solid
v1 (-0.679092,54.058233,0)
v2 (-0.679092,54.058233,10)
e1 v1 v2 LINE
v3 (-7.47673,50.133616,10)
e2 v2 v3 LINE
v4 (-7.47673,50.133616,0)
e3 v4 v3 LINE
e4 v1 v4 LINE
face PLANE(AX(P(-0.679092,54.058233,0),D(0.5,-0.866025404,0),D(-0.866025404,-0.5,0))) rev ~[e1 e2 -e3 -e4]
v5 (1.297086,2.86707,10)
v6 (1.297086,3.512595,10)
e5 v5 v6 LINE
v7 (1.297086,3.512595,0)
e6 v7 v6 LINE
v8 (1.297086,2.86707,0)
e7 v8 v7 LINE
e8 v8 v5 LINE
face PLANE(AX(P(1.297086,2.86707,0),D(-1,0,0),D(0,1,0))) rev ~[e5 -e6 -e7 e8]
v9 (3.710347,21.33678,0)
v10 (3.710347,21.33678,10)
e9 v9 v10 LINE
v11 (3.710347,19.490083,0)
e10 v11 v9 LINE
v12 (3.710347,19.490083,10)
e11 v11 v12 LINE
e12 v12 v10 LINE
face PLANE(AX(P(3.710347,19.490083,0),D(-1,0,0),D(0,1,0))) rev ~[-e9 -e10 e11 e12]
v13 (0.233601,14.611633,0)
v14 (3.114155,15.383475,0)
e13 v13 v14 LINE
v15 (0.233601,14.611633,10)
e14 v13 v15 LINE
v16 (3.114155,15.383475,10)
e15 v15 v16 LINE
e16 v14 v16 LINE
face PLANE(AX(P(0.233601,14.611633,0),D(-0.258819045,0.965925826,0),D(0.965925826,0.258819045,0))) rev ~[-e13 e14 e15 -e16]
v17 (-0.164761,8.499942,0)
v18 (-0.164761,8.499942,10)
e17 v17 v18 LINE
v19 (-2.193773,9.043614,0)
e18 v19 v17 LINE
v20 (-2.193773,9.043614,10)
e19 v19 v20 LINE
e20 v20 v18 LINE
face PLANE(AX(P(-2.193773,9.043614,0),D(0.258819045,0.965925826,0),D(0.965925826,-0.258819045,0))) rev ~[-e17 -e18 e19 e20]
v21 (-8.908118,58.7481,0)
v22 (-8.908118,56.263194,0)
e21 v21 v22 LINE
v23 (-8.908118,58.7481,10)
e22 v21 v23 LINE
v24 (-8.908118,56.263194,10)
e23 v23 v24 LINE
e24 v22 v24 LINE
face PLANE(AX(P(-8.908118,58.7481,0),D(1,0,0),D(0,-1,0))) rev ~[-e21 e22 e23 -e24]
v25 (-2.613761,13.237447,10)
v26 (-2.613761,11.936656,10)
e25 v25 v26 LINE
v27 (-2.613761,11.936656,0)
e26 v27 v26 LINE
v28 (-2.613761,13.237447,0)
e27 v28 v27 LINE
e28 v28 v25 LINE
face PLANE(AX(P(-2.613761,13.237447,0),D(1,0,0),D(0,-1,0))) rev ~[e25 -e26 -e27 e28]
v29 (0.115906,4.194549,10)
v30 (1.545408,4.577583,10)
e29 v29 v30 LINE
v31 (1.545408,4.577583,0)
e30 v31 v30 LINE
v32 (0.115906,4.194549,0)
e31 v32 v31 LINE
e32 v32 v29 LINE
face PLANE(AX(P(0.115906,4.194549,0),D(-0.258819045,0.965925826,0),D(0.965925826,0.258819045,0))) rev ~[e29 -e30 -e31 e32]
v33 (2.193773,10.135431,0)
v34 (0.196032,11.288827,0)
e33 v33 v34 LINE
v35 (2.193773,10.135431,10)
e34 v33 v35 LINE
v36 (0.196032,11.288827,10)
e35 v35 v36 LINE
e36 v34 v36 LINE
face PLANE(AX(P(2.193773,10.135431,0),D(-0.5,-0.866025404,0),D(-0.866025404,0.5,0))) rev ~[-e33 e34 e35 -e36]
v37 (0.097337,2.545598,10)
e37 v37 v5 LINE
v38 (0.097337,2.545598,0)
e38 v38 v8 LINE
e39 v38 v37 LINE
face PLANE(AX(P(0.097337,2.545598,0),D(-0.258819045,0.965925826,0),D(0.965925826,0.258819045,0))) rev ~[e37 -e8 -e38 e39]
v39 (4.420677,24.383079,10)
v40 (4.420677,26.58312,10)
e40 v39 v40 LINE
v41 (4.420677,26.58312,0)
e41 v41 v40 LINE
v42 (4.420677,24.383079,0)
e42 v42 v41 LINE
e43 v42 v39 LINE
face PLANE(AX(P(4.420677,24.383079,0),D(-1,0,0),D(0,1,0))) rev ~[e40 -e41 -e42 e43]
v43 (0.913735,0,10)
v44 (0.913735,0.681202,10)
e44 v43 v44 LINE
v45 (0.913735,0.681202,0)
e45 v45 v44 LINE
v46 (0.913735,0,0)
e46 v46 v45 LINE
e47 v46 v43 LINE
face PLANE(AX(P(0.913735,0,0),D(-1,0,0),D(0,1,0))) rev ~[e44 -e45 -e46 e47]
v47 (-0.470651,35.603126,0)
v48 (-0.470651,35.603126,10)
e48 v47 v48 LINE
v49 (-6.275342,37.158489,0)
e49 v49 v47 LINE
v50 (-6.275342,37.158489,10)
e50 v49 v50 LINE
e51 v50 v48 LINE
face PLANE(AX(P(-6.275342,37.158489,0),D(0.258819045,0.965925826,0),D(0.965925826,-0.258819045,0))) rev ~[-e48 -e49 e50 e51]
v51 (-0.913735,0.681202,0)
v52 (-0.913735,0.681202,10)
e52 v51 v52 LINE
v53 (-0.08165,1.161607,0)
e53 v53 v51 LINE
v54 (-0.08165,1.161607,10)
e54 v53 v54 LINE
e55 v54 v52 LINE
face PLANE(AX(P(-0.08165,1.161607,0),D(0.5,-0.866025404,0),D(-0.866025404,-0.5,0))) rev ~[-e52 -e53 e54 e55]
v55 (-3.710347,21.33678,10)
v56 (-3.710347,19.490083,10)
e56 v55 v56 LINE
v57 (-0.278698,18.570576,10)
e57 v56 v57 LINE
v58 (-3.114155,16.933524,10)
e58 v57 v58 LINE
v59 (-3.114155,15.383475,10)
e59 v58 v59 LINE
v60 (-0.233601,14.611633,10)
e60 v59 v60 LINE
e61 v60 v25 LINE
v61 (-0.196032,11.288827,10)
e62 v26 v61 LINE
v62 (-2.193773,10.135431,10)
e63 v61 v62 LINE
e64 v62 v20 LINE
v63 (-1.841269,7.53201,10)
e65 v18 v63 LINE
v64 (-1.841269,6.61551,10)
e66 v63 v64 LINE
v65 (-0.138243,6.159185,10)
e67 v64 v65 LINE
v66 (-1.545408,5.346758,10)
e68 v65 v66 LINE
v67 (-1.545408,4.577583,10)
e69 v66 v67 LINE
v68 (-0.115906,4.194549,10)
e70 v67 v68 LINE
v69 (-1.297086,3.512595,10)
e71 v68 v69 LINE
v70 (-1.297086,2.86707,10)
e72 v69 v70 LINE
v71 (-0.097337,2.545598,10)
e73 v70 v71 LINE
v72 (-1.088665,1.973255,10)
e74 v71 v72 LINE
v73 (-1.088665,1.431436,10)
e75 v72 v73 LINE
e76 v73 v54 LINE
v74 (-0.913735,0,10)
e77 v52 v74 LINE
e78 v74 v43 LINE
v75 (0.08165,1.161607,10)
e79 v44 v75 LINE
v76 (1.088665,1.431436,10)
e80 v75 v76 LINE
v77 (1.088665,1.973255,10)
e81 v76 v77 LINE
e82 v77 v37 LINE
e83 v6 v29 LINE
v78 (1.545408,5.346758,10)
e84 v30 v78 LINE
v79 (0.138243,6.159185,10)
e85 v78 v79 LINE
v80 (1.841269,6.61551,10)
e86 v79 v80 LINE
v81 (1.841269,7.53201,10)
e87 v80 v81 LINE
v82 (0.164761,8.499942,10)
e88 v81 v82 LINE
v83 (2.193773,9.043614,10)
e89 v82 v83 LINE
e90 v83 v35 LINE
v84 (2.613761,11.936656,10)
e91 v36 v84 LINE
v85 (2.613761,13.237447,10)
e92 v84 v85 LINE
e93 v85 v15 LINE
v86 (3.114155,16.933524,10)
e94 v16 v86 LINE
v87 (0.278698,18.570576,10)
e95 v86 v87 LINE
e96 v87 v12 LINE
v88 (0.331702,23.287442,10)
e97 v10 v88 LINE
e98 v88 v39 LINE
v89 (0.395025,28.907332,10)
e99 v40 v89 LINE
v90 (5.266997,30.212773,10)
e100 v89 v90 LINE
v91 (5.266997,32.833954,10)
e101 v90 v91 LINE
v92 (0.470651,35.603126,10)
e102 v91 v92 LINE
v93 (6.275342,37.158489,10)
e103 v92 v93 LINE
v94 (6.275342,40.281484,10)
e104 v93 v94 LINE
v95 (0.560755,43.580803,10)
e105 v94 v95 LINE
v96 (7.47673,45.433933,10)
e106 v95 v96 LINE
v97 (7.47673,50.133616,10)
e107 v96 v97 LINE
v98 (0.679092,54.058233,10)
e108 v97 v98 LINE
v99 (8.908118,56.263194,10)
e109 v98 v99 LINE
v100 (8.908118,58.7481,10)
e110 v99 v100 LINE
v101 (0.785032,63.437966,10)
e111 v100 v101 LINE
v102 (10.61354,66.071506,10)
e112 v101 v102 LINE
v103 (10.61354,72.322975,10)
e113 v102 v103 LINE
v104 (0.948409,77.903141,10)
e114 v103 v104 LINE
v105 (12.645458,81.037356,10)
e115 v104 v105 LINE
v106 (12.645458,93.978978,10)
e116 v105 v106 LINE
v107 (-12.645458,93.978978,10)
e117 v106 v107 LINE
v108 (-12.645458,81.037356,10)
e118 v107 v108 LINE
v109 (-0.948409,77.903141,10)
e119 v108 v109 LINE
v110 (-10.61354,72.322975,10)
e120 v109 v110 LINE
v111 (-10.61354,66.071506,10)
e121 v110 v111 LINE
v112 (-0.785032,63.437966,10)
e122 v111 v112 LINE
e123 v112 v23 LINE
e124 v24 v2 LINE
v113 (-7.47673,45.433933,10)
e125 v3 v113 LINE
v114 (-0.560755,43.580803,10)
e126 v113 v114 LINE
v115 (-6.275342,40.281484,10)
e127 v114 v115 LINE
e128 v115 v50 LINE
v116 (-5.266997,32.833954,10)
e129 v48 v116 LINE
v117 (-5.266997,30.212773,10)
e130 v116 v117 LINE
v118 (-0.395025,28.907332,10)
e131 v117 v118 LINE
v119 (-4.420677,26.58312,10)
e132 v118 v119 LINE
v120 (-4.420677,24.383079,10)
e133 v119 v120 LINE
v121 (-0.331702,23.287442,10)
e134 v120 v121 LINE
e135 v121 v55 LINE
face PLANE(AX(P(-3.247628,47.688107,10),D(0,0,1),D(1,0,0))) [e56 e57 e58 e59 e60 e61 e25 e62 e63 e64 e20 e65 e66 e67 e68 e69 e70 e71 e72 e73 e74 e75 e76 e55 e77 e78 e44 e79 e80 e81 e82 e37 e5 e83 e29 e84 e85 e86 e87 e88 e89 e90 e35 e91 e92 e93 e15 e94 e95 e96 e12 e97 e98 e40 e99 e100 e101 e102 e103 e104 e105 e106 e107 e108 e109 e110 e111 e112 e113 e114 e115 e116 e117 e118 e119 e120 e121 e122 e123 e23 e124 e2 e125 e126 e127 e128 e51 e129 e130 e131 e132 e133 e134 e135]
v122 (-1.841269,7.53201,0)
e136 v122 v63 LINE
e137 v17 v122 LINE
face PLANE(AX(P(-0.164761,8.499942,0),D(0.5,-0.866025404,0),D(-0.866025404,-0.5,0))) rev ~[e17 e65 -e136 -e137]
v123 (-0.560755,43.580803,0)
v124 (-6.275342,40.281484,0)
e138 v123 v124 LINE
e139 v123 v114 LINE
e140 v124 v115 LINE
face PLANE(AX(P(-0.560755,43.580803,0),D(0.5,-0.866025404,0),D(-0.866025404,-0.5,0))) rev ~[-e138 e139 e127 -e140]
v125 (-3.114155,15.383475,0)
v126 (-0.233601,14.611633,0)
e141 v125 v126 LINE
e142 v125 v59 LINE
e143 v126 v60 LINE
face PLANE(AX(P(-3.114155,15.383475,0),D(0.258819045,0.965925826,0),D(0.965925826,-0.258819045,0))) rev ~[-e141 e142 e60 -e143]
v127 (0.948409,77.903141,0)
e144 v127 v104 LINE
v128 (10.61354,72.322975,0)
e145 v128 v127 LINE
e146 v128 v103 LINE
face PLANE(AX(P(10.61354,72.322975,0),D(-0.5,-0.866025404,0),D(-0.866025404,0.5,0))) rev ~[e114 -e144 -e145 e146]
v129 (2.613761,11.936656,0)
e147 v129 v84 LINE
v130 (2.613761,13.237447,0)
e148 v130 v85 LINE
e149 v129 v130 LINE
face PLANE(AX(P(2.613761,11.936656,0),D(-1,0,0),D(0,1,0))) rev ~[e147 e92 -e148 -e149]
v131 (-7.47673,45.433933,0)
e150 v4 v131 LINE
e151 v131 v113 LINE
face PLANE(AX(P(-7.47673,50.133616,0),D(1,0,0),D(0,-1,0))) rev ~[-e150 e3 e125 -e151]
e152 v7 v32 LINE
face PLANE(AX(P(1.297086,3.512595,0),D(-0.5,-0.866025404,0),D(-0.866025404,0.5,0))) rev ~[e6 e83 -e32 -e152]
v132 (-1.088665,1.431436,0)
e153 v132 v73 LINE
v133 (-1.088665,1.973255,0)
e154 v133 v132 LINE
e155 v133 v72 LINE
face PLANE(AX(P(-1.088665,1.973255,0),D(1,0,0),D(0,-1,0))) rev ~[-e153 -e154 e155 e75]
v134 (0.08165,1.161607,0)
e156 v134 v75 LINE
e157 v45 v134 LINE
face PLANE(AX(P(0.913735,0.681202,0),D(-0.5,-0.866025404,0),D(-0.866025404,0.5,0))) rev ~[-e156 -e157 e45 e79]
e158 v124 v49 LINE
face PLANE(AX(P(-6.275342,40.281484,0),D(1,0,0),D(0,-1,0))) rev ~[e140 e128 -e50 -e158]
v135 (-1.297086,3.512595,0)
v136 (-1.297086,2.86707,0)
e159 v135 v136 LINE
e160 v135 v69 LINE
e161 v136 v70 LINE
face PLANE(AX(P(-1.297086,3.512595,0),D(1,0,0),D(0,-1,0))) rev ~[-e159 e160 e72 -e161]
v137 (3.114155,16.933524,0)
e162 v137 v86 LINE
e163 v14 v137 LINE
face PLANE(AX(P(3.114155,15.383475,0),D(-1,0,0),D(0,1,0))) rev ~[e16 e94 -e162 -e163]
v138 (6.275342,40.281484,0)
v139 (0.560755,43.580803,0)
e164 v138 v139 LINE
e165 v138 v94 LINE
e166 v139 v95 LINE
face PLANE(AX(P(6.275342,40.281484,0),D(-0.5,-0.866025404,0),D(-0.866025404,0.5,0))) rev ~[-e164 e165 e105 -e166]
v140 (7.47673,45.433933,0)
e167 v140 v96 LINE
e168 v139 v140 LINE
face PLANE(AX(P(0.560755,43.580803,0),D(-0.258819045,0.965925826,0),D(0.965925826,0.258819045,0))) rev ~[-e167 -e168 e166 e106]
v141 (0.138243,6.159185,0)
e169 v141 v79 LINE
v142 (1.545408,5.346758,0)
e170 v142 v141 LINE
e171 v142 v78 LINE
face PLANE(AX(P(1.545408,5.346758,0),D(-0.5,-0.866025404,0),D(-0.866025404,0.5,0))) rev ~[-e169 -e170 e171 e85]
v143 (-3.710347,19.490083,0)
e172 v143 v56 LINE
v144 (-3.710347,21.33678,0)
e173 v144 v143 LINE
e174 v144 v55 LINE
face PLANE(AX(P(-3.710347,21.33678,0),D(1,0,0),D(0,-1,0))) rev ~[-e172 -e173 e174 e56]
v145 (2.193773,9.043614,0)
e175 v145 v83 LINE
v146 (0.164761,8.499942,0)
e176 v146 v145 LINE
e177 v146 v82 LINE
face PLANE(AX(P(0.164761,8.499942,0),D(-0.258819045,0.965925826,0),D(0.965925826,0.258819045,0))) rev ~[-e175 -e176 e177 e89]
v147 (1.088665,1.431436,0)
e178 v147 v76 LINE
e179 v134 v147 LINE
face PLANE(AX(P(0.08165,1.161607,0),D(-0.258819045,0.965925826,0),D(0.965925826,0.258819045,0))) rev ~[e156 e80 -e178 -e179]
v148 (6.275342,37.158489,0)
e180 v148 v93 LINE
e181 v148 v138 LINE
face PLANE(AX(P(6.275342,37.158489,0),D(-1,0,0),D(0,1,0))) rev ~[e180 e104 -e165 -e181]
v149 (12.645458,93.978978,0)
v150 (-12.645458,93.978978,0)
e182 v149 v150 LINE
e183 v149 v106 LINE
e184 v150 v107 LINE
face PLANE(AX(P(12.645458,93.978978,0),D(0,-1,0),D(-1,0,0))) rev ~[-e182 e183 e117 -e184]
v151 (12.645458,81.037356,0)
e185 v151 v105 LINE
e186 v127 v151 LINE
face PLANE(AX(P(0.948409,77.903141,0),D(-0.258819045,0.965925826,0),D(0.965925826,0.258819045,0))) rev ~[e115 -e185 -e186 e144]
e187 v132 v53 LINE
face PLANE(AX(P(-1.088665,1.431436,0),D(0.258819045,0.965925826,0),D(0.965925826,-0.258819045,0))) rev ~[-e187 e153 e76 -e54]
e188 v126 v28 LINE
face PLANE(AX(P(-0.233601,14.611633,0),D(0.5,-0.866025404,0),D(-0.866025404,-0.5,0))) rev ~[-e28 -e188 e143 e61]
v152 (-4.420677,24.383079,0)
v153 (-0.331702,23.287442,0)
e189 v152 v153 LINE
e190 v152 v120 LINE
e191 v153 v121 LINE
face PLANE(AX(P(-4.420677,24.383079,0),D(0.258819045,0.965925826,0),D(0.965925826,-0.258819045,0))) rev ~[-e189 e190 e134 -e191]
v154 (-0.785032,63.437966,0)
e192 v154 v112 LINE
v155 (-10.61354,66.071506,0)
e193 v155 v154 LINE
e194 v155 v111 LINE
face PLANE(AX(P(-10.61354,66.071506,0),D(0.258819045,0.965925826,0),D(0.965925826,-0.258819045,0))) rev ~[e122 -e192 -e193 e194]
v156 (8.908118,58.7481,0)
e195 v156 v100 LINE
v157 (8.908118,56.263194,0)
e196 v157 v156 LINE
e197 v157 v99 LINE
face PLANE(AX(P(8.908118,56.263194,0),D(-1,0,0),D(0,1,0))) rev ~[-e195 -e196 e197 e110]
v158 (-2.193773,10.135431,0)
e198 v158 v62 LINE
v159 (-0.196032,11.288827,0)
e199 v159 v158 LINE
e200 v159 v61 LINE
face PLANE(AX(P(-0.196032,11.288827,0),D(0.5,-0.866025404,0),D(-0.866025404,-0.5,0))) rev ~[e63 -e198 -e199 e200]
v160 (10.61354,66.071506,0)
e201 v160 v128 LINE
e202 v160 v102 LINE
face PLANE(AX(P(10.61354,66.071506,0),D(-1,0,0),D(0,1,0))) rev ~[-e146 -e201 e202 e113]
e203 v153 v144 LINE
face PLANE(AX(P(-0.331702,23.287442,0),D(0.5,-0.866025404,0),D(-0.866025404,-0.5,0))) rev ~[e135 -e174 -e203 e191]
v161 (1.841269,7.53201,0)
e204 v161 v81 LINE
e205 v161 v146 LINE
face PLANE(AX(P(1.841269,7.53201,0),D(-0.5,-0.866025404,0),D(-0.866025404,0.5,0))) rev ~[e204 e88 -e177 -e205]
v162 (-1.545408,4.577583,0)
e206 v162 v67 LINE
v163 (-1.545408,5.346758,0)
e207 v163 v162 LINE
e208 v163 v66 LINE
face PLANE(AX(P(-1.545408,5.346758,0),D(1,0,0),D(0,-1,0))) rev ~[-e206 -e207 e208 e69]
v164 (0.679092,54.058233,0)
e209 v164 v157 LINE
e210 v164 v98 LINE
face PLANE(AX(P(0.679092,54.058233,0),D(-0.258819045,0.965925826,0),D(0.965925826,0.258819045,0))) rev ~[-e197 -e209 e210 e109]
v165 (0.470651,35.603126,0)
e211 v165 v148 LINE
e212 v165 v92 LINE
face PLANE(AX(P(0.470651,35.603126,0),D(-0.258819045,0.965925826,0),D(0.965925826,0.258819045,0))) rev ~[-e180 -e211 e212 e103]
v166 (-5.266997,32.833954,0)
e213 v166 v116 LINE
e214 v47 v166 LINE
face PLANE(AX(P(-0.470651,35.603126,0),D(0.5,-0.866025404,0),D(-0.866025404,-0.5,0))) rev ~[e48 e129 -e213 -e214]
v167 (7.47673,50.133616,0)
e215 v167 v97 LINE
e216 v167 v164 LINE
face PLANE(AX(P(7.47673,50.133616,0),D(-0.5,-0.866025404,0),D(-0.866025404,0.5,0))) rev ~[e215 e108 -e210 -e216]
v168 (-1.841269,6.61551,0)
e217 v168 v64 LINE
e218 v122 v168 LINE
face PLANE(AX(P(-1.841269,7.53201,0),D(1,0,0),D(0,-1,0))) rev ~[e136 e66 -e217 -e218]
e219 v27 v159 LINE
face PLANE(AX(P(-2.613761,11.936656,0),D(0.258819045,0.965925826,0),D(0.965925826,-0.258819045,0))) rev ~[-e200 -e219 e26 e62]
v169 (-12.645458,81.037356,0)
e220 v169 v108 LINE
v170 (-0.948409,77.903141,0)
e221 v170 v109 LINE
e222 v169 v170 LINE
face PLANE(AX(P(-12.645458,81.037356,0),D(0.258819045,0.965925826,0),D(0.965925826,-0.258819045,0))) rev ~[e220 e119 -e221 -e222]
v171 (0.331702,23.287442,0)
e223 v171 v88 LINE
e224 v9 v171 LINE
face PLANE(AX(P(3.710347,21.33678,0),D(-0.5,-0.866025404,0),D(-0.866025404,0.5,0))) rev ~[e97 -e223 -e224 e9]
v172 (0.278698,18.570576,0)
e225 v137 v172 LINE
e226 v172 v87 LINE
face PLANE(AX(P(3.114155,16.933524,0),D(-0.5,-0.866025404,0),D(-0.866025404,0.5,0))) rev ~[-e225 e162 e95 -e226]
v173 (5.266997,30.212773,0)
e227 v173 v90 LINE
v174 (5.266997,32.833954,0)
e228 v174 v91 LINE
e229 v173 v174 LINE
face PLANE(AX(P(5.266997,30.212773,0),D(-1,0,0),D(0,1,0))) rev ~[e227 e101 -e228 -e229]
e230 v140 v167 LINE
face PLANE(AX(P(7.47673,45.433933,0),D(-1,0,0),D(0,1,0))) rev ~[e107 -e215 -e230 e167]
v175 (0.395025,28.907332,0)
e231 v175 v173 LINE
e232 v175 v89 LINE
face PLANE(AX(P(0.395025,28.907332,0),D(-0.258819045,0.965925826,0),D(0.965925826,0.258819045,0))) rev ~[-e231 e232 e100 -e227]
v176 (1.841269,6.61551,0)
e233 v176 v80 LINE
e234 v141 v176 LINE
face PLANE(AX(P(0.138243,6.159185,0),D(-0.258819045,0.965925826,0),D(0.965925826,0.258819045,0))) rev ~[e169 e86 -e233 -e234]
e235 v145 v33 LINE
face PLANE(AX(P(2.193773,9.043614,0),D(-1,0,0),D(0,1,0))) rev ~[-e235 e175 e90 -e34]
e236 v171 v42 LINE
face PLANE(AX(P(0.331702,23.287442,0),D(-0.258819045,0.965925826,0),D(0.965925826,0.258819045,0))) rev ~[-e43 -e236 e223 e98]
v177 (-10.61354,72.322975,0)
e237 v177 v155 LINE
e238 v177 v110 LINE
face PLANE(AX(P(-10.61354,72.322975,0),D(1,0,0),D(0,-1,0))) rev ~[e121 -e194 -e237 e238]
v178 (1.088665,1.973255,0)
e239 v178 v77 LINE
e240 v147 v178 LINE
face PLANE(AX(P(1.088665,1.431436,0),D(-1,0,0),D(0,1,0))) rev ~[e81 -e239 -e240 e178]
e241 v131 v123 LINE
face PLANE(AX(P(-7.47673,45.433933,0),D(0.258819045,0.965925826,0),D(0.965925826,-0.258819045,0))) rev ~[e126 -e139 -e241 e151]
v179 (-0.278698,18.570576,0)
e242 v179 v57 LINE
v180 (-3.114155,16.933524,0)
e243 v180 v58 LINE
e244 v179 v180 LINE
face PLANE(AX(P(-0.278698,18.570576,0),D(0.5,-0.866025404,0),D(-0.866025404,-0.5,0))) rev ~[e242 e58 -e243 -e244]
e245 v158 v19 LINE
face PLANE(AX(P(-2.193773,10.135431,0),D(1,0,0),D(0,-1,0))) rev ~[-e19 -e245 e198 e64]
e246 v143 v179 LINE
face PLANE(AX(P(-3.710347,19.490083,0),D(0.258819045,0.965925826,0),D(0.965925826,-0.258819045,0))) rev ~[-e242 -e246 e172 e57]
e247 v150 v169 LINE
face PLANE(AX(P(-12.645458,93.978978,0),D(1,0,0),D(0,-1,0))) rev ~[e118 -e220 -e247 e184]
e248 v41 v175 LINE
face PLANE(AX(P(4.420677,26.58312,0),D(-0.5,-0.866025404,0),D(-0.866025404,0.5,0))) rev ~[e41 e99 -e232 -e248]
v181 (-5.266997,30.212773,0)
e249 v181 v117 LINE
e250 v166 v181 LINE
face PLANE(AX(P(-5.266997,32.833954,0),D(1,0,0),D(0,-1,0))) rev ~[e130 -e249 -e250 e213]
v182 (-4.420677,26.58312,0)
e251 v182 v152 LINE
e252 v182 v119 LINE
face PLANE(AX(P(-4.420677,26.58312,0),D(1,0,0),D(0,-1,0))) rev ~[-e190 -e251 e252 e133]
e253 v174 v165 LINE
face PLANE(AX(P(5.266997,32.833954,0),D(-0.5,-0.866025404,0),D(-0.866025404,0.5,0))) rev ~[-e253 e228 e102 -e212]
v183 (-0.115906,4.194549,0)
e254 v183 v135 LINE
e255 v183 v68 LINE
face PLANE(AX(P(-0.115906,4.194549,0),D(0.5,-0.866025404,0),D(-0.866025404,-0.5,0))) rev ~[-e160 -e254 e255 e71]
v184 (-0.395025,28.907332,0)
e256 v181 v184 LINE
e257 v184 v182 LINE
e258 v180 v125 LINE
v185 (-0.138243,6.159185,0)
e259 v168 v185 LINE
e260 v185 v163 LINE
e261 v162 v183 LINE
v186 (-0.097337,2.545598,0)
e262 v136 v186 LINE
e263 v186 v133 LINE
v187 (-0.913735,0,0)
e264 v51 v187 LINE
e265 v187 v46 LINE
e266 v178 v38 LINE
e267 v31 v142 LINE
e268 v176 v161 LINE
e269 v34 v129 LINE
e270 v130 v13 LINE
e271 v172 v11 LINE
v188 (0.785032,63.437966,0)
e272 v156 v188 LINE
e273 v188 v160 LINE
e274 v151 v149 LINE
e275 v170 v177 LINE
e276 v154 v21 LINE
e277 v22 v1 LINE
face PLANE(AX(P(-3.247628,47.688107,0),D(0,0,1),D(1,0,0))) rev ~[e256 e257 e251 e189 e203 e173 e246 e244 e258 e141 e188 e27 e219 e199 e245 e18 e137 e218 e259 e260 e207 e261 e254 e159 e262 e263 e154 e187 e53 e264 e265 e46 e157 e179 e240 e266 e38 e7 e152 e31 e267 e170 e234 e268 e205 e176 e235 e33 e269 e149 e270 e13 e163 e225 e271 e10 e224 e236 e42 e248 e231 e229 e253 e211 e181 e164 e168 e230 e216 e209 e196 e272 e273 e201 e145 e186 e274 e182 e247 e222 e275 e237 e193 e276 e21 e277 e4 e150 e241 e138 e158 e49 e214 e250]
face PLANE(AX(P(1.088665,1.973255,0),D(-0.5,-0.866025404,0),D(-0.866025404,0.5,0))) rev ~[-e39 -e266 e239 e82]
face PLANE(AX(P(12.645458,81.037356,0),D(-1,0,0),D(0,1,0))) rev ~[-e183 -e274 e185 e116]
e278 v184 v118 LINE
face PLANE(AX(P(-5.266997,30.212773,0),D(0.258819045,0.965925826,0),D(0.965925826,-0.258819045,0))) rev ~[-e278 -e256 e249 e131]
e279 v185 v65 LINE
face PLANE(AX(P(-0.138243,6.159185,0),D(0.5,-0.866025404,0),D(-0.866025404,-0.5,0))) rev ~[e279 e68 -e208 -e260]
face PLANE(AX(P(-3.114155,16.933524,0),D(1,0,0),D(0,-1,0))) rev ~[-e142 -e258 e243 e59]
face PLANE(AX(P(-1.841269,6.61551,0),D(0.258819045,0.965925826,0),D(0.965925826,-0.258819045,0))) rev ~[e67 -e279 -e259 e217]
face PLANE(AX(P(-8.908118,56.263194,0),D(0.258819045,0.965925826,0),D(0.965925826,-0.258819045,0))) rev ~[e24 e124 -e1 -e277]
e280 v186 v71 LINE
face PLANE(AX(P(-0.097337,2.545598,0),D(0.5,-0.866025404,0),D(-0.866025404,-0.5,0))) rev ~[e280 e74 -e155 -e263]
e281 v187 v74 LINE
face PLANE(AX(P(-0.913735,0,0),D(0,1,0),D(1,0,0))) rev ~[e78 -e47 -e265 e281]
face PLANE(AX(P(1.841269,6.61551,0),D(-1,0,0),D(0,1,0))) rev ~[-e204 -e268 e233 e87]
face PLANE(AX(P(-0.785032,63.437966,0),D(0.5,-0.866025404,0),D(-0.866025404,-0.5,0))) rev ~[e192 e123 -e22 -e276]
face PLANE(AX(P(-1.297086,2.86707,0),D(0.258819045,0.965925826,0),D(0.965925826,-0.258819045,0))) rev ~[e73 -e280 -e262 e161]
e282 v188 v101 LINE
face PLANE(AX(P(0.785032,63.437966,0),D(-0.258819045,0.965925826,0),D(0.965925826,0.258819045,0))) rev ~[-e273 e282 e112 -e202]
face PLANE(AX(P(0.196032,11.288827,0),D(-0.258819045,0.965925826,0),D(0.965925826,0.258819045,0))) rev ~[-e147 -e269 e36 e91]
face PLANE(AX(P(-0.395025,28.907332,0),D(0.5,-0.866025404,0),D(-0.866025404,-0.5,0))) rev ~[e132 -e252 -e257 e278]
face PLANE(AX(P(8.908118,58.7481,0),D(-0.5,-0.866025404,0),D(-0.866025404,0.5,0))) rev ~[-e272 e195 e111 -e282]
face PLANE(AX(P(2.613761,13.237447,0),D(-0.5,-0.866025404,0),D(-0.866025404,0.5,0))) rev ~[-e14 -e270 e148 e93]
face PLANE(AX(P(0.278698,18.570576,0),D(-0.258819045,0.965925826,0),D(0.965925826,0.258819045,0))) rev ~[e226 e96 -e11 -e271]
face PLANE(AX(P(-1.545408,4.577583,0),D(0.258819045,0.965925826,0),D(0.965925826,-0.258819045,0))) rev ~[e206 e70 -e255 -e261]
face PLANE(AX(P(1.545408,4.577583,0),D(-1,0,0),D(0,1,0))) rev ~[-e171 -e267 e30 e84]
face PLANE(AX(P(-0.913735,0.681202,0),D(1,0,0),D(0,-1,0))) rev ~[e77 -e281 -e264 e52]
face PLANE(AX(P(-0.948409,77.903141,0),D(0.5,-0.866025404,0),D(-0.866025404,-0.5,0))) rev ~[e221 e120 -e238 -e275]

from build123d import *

# Parameters (mm, degrees)
BOSS_EXTRUDE1_DEPTH = 10


with BuildPart() as part:
    # spiral_flat → Boss-Extrude1 (new body)
    with BuildSketch(Plane.XY):
        with BuildLine():
            Line((0, 93.978977978), (-12.645458185, 93.978977978))
            Line((-12.645458185, 93.978977978), (-12.645458185, 81.037355698))
            Line((-12.645458185, 81.037355698), (-0.948409364, 77.903140912))
            Line((-0.948409364, 77.903140912), (-10.613540319, 72.322974954))
            Line((-10.613540319, 72.322974954), (-10.613540319, 66.071506497))
            Line((-10.613540319, 66.071506497), (-0.785032027, 63.437965637))
            Line((-0.785032027, 63.437965637), (-8.90811835, 58.748099562))
            Line((-8.90811835, 58.748099562), (-8.90811835, 56.263194352))
            Line((-8.90811835, 56.263194352), (-0.679092373, 54.058233487))
            Line((-0.679092373, 54.058233487), (-7.476729738, 50.133615724))
            Line((-7.476729738, 50.133615724), (-7.476729738, 45.433932588))
            Line((-7.476729738, 45.433932588), (-0.56075473, 43.58080267))
            Line((-0.56075473, 43.58080267), (-6.275341816, 40.281484278))
            Line((-6.275341816, 40.281484278), (-6.275341816, 37.158488644))
            Line((-6.275341816, 37.158488644), (-0.470650636, 35.603126331))
            Line((-0.470650636, 35.603126331), (-5.266997241, 32.833954327))
            Line((-5.266997241, 32.833954327), (-5.266997241, 30.212772905))
            Line((-5.266997241, 30.212772905), (-0.395024793, 28.907331822))
            Line((-0.395024793, 28.907331822), (-4.420677113, 26.583120371))
            Line((-4.420677113, 26.583120371), (-4.420677113, 24.383079269))
            Line((-4.420677113, 24.383079269), (-0.331702205, 23.287441744))
            Line((-0.331702205, 23.287441744), (-3.710346757, 21.336780402))
            Line((-3.710346757, 21.336780402), (-3.710346757, 19.490083441))
            Line((-3.710346757, 19.490083441), (-0.278697859, 18.57057589))
            Line((-0.278697859, 18.57057589), (-3.114154847, 16.933524034))
            Line((-3.114154847, 16.933524034), (-3.114154847, 15.383475192))
            Line((-3.114154847, 15.383475192), (-0.233600822, 14.611633067))
            Line((-0.233600822, 14.611633067), (-2.613761206, 13.237446829))
            Line((-2.613761206, 13.237446829), (-2.613761206, 11.936656031))
            Line((-2.613761206, 11.936656031), (-0.19603209, 11.288827467))
            Line((-0.19603209, 11.288827467), (-2.19377262, 10.135431435))
            Line((-2.19377262, 10.135431435), (-2.19377262, 9.043614273))
            Line((-2.19377262, 9.043614273), (-0.164761066, 8.499942265))
            Line((-0.164761066, 8.499942265), (-1.841269317, 7.532009775))
            Line((-1.841269317, 7.532009775), (-1.841269317, 6.615509703))
            Line((-1.841269317, 6.615509703), (-0.138243102, 6.159185204))
            Line((-0.138243102, 6.159185204), (-1.545407517, 5.346758451))
            Line((-1.545407517, 5.346758451), (-1.545407517, 4.577583331))
            Line((-1.545407517, 4.577583331), (-0.115905564, 4.194549437))
            Line((-0.115905564, 4.194549437), (-1.297085859, 3.512594676))
            Line((-1.297085859, 3.512594676), (-1.297085859, 2.867070252))
            Line((-1.297085859, 2.867070252), (-0.097336711, 2.545598437))
            Line((-0.097336711, 2.545598437), (-1.088665421, 1.973254539))
            Line((-1.088665421, 1.973254539), (-1.088665421, 1.431435829))
            Line((-1.088665421, 1.431435829), (-0.081649907, 1.161606835))
            Line((-0.081649907, 1.161606835), (-0.913734731, 0.681202438))
            Line((-0.913734731, 0.681202438), (-0.913734731, 0))
            Line((-0.913734731, 0), (0, 0))
            add(Edge.make_bspline(
                [(0, 0), (0, 0.387202278), (0, 1.235735091), (0, 2.633918237), (0, 4.299777693), (0, 6.284558969), (0, 8.649318312), (0, 11.466800933), (0, 14.823678808), (0, 18.8232169), (0, 23.588449819), (0, 29.265966632), (0, 36.030420274), (0, 44.414054162), (0, 53.692333931), (0, 65.133113345), (0, 78.440028176), (0, 88.620365623), (0, 93.978977978)],
                knots=[0, 0, 0, 0, 0.012360284, 0.027086892, 0.044632848, 0.065537904, 0.090445145, 0.120120773, 0.155477676, 0.19760351, 0.247794158, 0.307593596, 0.378841387, 0.463729268, 0.575216231, 0.675022936, 0.828942202, 1, 1, 1, 1], degree=3))
        make_face()
        with BuildLine():
            Line((12.645458185, 93.978977978), (0, 93.978977978))
            add(Edge.make_bspline(
                [(0, 0), (0, 0.387202278), (0, 1.235735091), (0, 2.633918237), (0, 4.299777693), (0, 6.284558969), (0, 8.649318312), (0, 11.466800933), (0, 14.823678808), (0, 18.8232169), (0, 23.588449819), (0, 29.265966632), (0, 36.030420274), (0, 44.414054162), (0, 53.692333931), (0, 65.133113345), (0, 78.440028176), (0, 88.620365623), (0, 93.978977978)],
                knots=[0, 0, 0, 0, 0.012360284, 0.027086892, 0.044632848, 0.065537904, 0.090445145, 0.120120773, 0.155477676, 0.19760351, 0.247794158, 0.307593596, 0.378841387, 0.463729268, 0.575216231, 0.675022936, 0.828942202, 1, 1, 1, 1], degree=3))
            Line((0, 0), (0.913734731, 0))
            Line((0.913734731, 0), (0.913734731, 0.681202438))
            Line((0.913734731, 0.681202438), (0.081649907, 1.161606835))
            Line((0.081649907, 1.161606835), (1.088665421, 1.431435829))
            Line((1.088665421, 1.431435829), (1.088665421, 1.973254539))
            Line((1.088665421, 1.973254539), (0.097336711, 2.545598437))
            Line((0.097336711, 2.545598437), (1.297085859, 2.867070252))
            Line((1.297085859, 2.867070252), (1.297085859, 3.512594676))
            Line((1.297085859, 3.512594676), (0.115905564, 4.194549437))
            Line((0.115905564, 4.194549437), (1.545407517, 4.577583331))
            Line((1.545407517, 4.577583331), (1.545407517, 5.346758451))
            Line((1.545407517, 5.346758451), (0.138243102, 6.159185204))
            Line((0.138243102, 6.159185204), (1.841269317, 6.615509703))
            Line((1.841269317, 6.615509703), (1.841269317, 7.532009775))
            Line((1.841269317, 7.532009775), (0.164761066, 8.499942265))
            Line((0.164761066, 8.499942265), (2.19377262, 9.043614273))
            Line((2.19377262, 9.043614273), (2.19377262, 10.135431435))
            Line((2.19377262, 10.135431435), (0.19603209, 11.288827467))
            Line((0.19603209, 11.288827467), (2.613761206, 11.936656031))
            Line((2.613761206, 11.936656031), (2.613761206, 13.237446829))
            Line((2.613761206, 13.237446829), (0.233600822, 14.611633067))
            Line((0.233600822, 14.611633067), (3.114154847, 15.383475192))
            Line((3.114154847, 15.383475192), (3.114154847, 16.933524034))
            Line((3.114154847, 16.933524034), (0.278697859, 18.57057589))
            Line((0.278697859, 18.57057589), (3.710346757, 19.490083441))
            Line((3.710346757, 19.490083441), (3.710346757, 21.336780402))
            Line((3.710346757, 21.336780402), (0.331702205, 23.287441744))
            Line((0.331702205, 23.287441744), (4.420677113, 24.383079269))
            Line((4.420677113, 24.383079269), (4.420677113, 26.583120371))
            Line((4.420677113, 26.583120371), (0.395024793, 28.907331822))
            Line((0.395024793, 28.907331822), (5.266997241, 30.212772905))
            Line((5.266997241, 30.212772905), (5.266997241, 32.833954327))
            Line((5.266997241, 32.833954327), (0.470650636, 35.603126331))
            Line((0.470650636, 35.603126331), (6.275341816, 37.158488644))
            Line((6.275341816, 37.158488644), (6.275341816, 40.281484278))
            Line((6.275341816, 40.281484278), (0.56075473, 43.58080267))
            Line((0.56075473, 43.58080267), (7.476729738, 45.433932588))
            Line((7.476729738, 45.433932588), (7.476729738, 50.133615724))
            Line((7.476729738, 50.133615724), (0.679092373, 54.058233487))
            Line((0.679092373, 54.058233487), (8.90811835, 56.263194352))
            Line((8.90811835, 56.263194352), (8.90811835, 58.748099562))
            Line((8.90811835, 58.748099562), (0.785032027, 63.437965637))
            Line((0.785032027, 63.437965637), (10.613540319, 66.071506497))
            Line((10.613540319, 66.071506497), (10.613540319, 72.322974954))
            Line((10.613540319, 72.322974954), (0.948409364, 77.903140912))
            Line((0.948409364, 77.903140912), (12.645458185, 81.037355698))
            Line((12.645458185, 81.037355698), (12.645458185, 93.978977978))
        make_face()
    extrude(amount=BOSS_EXTRUDE1_DEPTH)


solid = part.part
